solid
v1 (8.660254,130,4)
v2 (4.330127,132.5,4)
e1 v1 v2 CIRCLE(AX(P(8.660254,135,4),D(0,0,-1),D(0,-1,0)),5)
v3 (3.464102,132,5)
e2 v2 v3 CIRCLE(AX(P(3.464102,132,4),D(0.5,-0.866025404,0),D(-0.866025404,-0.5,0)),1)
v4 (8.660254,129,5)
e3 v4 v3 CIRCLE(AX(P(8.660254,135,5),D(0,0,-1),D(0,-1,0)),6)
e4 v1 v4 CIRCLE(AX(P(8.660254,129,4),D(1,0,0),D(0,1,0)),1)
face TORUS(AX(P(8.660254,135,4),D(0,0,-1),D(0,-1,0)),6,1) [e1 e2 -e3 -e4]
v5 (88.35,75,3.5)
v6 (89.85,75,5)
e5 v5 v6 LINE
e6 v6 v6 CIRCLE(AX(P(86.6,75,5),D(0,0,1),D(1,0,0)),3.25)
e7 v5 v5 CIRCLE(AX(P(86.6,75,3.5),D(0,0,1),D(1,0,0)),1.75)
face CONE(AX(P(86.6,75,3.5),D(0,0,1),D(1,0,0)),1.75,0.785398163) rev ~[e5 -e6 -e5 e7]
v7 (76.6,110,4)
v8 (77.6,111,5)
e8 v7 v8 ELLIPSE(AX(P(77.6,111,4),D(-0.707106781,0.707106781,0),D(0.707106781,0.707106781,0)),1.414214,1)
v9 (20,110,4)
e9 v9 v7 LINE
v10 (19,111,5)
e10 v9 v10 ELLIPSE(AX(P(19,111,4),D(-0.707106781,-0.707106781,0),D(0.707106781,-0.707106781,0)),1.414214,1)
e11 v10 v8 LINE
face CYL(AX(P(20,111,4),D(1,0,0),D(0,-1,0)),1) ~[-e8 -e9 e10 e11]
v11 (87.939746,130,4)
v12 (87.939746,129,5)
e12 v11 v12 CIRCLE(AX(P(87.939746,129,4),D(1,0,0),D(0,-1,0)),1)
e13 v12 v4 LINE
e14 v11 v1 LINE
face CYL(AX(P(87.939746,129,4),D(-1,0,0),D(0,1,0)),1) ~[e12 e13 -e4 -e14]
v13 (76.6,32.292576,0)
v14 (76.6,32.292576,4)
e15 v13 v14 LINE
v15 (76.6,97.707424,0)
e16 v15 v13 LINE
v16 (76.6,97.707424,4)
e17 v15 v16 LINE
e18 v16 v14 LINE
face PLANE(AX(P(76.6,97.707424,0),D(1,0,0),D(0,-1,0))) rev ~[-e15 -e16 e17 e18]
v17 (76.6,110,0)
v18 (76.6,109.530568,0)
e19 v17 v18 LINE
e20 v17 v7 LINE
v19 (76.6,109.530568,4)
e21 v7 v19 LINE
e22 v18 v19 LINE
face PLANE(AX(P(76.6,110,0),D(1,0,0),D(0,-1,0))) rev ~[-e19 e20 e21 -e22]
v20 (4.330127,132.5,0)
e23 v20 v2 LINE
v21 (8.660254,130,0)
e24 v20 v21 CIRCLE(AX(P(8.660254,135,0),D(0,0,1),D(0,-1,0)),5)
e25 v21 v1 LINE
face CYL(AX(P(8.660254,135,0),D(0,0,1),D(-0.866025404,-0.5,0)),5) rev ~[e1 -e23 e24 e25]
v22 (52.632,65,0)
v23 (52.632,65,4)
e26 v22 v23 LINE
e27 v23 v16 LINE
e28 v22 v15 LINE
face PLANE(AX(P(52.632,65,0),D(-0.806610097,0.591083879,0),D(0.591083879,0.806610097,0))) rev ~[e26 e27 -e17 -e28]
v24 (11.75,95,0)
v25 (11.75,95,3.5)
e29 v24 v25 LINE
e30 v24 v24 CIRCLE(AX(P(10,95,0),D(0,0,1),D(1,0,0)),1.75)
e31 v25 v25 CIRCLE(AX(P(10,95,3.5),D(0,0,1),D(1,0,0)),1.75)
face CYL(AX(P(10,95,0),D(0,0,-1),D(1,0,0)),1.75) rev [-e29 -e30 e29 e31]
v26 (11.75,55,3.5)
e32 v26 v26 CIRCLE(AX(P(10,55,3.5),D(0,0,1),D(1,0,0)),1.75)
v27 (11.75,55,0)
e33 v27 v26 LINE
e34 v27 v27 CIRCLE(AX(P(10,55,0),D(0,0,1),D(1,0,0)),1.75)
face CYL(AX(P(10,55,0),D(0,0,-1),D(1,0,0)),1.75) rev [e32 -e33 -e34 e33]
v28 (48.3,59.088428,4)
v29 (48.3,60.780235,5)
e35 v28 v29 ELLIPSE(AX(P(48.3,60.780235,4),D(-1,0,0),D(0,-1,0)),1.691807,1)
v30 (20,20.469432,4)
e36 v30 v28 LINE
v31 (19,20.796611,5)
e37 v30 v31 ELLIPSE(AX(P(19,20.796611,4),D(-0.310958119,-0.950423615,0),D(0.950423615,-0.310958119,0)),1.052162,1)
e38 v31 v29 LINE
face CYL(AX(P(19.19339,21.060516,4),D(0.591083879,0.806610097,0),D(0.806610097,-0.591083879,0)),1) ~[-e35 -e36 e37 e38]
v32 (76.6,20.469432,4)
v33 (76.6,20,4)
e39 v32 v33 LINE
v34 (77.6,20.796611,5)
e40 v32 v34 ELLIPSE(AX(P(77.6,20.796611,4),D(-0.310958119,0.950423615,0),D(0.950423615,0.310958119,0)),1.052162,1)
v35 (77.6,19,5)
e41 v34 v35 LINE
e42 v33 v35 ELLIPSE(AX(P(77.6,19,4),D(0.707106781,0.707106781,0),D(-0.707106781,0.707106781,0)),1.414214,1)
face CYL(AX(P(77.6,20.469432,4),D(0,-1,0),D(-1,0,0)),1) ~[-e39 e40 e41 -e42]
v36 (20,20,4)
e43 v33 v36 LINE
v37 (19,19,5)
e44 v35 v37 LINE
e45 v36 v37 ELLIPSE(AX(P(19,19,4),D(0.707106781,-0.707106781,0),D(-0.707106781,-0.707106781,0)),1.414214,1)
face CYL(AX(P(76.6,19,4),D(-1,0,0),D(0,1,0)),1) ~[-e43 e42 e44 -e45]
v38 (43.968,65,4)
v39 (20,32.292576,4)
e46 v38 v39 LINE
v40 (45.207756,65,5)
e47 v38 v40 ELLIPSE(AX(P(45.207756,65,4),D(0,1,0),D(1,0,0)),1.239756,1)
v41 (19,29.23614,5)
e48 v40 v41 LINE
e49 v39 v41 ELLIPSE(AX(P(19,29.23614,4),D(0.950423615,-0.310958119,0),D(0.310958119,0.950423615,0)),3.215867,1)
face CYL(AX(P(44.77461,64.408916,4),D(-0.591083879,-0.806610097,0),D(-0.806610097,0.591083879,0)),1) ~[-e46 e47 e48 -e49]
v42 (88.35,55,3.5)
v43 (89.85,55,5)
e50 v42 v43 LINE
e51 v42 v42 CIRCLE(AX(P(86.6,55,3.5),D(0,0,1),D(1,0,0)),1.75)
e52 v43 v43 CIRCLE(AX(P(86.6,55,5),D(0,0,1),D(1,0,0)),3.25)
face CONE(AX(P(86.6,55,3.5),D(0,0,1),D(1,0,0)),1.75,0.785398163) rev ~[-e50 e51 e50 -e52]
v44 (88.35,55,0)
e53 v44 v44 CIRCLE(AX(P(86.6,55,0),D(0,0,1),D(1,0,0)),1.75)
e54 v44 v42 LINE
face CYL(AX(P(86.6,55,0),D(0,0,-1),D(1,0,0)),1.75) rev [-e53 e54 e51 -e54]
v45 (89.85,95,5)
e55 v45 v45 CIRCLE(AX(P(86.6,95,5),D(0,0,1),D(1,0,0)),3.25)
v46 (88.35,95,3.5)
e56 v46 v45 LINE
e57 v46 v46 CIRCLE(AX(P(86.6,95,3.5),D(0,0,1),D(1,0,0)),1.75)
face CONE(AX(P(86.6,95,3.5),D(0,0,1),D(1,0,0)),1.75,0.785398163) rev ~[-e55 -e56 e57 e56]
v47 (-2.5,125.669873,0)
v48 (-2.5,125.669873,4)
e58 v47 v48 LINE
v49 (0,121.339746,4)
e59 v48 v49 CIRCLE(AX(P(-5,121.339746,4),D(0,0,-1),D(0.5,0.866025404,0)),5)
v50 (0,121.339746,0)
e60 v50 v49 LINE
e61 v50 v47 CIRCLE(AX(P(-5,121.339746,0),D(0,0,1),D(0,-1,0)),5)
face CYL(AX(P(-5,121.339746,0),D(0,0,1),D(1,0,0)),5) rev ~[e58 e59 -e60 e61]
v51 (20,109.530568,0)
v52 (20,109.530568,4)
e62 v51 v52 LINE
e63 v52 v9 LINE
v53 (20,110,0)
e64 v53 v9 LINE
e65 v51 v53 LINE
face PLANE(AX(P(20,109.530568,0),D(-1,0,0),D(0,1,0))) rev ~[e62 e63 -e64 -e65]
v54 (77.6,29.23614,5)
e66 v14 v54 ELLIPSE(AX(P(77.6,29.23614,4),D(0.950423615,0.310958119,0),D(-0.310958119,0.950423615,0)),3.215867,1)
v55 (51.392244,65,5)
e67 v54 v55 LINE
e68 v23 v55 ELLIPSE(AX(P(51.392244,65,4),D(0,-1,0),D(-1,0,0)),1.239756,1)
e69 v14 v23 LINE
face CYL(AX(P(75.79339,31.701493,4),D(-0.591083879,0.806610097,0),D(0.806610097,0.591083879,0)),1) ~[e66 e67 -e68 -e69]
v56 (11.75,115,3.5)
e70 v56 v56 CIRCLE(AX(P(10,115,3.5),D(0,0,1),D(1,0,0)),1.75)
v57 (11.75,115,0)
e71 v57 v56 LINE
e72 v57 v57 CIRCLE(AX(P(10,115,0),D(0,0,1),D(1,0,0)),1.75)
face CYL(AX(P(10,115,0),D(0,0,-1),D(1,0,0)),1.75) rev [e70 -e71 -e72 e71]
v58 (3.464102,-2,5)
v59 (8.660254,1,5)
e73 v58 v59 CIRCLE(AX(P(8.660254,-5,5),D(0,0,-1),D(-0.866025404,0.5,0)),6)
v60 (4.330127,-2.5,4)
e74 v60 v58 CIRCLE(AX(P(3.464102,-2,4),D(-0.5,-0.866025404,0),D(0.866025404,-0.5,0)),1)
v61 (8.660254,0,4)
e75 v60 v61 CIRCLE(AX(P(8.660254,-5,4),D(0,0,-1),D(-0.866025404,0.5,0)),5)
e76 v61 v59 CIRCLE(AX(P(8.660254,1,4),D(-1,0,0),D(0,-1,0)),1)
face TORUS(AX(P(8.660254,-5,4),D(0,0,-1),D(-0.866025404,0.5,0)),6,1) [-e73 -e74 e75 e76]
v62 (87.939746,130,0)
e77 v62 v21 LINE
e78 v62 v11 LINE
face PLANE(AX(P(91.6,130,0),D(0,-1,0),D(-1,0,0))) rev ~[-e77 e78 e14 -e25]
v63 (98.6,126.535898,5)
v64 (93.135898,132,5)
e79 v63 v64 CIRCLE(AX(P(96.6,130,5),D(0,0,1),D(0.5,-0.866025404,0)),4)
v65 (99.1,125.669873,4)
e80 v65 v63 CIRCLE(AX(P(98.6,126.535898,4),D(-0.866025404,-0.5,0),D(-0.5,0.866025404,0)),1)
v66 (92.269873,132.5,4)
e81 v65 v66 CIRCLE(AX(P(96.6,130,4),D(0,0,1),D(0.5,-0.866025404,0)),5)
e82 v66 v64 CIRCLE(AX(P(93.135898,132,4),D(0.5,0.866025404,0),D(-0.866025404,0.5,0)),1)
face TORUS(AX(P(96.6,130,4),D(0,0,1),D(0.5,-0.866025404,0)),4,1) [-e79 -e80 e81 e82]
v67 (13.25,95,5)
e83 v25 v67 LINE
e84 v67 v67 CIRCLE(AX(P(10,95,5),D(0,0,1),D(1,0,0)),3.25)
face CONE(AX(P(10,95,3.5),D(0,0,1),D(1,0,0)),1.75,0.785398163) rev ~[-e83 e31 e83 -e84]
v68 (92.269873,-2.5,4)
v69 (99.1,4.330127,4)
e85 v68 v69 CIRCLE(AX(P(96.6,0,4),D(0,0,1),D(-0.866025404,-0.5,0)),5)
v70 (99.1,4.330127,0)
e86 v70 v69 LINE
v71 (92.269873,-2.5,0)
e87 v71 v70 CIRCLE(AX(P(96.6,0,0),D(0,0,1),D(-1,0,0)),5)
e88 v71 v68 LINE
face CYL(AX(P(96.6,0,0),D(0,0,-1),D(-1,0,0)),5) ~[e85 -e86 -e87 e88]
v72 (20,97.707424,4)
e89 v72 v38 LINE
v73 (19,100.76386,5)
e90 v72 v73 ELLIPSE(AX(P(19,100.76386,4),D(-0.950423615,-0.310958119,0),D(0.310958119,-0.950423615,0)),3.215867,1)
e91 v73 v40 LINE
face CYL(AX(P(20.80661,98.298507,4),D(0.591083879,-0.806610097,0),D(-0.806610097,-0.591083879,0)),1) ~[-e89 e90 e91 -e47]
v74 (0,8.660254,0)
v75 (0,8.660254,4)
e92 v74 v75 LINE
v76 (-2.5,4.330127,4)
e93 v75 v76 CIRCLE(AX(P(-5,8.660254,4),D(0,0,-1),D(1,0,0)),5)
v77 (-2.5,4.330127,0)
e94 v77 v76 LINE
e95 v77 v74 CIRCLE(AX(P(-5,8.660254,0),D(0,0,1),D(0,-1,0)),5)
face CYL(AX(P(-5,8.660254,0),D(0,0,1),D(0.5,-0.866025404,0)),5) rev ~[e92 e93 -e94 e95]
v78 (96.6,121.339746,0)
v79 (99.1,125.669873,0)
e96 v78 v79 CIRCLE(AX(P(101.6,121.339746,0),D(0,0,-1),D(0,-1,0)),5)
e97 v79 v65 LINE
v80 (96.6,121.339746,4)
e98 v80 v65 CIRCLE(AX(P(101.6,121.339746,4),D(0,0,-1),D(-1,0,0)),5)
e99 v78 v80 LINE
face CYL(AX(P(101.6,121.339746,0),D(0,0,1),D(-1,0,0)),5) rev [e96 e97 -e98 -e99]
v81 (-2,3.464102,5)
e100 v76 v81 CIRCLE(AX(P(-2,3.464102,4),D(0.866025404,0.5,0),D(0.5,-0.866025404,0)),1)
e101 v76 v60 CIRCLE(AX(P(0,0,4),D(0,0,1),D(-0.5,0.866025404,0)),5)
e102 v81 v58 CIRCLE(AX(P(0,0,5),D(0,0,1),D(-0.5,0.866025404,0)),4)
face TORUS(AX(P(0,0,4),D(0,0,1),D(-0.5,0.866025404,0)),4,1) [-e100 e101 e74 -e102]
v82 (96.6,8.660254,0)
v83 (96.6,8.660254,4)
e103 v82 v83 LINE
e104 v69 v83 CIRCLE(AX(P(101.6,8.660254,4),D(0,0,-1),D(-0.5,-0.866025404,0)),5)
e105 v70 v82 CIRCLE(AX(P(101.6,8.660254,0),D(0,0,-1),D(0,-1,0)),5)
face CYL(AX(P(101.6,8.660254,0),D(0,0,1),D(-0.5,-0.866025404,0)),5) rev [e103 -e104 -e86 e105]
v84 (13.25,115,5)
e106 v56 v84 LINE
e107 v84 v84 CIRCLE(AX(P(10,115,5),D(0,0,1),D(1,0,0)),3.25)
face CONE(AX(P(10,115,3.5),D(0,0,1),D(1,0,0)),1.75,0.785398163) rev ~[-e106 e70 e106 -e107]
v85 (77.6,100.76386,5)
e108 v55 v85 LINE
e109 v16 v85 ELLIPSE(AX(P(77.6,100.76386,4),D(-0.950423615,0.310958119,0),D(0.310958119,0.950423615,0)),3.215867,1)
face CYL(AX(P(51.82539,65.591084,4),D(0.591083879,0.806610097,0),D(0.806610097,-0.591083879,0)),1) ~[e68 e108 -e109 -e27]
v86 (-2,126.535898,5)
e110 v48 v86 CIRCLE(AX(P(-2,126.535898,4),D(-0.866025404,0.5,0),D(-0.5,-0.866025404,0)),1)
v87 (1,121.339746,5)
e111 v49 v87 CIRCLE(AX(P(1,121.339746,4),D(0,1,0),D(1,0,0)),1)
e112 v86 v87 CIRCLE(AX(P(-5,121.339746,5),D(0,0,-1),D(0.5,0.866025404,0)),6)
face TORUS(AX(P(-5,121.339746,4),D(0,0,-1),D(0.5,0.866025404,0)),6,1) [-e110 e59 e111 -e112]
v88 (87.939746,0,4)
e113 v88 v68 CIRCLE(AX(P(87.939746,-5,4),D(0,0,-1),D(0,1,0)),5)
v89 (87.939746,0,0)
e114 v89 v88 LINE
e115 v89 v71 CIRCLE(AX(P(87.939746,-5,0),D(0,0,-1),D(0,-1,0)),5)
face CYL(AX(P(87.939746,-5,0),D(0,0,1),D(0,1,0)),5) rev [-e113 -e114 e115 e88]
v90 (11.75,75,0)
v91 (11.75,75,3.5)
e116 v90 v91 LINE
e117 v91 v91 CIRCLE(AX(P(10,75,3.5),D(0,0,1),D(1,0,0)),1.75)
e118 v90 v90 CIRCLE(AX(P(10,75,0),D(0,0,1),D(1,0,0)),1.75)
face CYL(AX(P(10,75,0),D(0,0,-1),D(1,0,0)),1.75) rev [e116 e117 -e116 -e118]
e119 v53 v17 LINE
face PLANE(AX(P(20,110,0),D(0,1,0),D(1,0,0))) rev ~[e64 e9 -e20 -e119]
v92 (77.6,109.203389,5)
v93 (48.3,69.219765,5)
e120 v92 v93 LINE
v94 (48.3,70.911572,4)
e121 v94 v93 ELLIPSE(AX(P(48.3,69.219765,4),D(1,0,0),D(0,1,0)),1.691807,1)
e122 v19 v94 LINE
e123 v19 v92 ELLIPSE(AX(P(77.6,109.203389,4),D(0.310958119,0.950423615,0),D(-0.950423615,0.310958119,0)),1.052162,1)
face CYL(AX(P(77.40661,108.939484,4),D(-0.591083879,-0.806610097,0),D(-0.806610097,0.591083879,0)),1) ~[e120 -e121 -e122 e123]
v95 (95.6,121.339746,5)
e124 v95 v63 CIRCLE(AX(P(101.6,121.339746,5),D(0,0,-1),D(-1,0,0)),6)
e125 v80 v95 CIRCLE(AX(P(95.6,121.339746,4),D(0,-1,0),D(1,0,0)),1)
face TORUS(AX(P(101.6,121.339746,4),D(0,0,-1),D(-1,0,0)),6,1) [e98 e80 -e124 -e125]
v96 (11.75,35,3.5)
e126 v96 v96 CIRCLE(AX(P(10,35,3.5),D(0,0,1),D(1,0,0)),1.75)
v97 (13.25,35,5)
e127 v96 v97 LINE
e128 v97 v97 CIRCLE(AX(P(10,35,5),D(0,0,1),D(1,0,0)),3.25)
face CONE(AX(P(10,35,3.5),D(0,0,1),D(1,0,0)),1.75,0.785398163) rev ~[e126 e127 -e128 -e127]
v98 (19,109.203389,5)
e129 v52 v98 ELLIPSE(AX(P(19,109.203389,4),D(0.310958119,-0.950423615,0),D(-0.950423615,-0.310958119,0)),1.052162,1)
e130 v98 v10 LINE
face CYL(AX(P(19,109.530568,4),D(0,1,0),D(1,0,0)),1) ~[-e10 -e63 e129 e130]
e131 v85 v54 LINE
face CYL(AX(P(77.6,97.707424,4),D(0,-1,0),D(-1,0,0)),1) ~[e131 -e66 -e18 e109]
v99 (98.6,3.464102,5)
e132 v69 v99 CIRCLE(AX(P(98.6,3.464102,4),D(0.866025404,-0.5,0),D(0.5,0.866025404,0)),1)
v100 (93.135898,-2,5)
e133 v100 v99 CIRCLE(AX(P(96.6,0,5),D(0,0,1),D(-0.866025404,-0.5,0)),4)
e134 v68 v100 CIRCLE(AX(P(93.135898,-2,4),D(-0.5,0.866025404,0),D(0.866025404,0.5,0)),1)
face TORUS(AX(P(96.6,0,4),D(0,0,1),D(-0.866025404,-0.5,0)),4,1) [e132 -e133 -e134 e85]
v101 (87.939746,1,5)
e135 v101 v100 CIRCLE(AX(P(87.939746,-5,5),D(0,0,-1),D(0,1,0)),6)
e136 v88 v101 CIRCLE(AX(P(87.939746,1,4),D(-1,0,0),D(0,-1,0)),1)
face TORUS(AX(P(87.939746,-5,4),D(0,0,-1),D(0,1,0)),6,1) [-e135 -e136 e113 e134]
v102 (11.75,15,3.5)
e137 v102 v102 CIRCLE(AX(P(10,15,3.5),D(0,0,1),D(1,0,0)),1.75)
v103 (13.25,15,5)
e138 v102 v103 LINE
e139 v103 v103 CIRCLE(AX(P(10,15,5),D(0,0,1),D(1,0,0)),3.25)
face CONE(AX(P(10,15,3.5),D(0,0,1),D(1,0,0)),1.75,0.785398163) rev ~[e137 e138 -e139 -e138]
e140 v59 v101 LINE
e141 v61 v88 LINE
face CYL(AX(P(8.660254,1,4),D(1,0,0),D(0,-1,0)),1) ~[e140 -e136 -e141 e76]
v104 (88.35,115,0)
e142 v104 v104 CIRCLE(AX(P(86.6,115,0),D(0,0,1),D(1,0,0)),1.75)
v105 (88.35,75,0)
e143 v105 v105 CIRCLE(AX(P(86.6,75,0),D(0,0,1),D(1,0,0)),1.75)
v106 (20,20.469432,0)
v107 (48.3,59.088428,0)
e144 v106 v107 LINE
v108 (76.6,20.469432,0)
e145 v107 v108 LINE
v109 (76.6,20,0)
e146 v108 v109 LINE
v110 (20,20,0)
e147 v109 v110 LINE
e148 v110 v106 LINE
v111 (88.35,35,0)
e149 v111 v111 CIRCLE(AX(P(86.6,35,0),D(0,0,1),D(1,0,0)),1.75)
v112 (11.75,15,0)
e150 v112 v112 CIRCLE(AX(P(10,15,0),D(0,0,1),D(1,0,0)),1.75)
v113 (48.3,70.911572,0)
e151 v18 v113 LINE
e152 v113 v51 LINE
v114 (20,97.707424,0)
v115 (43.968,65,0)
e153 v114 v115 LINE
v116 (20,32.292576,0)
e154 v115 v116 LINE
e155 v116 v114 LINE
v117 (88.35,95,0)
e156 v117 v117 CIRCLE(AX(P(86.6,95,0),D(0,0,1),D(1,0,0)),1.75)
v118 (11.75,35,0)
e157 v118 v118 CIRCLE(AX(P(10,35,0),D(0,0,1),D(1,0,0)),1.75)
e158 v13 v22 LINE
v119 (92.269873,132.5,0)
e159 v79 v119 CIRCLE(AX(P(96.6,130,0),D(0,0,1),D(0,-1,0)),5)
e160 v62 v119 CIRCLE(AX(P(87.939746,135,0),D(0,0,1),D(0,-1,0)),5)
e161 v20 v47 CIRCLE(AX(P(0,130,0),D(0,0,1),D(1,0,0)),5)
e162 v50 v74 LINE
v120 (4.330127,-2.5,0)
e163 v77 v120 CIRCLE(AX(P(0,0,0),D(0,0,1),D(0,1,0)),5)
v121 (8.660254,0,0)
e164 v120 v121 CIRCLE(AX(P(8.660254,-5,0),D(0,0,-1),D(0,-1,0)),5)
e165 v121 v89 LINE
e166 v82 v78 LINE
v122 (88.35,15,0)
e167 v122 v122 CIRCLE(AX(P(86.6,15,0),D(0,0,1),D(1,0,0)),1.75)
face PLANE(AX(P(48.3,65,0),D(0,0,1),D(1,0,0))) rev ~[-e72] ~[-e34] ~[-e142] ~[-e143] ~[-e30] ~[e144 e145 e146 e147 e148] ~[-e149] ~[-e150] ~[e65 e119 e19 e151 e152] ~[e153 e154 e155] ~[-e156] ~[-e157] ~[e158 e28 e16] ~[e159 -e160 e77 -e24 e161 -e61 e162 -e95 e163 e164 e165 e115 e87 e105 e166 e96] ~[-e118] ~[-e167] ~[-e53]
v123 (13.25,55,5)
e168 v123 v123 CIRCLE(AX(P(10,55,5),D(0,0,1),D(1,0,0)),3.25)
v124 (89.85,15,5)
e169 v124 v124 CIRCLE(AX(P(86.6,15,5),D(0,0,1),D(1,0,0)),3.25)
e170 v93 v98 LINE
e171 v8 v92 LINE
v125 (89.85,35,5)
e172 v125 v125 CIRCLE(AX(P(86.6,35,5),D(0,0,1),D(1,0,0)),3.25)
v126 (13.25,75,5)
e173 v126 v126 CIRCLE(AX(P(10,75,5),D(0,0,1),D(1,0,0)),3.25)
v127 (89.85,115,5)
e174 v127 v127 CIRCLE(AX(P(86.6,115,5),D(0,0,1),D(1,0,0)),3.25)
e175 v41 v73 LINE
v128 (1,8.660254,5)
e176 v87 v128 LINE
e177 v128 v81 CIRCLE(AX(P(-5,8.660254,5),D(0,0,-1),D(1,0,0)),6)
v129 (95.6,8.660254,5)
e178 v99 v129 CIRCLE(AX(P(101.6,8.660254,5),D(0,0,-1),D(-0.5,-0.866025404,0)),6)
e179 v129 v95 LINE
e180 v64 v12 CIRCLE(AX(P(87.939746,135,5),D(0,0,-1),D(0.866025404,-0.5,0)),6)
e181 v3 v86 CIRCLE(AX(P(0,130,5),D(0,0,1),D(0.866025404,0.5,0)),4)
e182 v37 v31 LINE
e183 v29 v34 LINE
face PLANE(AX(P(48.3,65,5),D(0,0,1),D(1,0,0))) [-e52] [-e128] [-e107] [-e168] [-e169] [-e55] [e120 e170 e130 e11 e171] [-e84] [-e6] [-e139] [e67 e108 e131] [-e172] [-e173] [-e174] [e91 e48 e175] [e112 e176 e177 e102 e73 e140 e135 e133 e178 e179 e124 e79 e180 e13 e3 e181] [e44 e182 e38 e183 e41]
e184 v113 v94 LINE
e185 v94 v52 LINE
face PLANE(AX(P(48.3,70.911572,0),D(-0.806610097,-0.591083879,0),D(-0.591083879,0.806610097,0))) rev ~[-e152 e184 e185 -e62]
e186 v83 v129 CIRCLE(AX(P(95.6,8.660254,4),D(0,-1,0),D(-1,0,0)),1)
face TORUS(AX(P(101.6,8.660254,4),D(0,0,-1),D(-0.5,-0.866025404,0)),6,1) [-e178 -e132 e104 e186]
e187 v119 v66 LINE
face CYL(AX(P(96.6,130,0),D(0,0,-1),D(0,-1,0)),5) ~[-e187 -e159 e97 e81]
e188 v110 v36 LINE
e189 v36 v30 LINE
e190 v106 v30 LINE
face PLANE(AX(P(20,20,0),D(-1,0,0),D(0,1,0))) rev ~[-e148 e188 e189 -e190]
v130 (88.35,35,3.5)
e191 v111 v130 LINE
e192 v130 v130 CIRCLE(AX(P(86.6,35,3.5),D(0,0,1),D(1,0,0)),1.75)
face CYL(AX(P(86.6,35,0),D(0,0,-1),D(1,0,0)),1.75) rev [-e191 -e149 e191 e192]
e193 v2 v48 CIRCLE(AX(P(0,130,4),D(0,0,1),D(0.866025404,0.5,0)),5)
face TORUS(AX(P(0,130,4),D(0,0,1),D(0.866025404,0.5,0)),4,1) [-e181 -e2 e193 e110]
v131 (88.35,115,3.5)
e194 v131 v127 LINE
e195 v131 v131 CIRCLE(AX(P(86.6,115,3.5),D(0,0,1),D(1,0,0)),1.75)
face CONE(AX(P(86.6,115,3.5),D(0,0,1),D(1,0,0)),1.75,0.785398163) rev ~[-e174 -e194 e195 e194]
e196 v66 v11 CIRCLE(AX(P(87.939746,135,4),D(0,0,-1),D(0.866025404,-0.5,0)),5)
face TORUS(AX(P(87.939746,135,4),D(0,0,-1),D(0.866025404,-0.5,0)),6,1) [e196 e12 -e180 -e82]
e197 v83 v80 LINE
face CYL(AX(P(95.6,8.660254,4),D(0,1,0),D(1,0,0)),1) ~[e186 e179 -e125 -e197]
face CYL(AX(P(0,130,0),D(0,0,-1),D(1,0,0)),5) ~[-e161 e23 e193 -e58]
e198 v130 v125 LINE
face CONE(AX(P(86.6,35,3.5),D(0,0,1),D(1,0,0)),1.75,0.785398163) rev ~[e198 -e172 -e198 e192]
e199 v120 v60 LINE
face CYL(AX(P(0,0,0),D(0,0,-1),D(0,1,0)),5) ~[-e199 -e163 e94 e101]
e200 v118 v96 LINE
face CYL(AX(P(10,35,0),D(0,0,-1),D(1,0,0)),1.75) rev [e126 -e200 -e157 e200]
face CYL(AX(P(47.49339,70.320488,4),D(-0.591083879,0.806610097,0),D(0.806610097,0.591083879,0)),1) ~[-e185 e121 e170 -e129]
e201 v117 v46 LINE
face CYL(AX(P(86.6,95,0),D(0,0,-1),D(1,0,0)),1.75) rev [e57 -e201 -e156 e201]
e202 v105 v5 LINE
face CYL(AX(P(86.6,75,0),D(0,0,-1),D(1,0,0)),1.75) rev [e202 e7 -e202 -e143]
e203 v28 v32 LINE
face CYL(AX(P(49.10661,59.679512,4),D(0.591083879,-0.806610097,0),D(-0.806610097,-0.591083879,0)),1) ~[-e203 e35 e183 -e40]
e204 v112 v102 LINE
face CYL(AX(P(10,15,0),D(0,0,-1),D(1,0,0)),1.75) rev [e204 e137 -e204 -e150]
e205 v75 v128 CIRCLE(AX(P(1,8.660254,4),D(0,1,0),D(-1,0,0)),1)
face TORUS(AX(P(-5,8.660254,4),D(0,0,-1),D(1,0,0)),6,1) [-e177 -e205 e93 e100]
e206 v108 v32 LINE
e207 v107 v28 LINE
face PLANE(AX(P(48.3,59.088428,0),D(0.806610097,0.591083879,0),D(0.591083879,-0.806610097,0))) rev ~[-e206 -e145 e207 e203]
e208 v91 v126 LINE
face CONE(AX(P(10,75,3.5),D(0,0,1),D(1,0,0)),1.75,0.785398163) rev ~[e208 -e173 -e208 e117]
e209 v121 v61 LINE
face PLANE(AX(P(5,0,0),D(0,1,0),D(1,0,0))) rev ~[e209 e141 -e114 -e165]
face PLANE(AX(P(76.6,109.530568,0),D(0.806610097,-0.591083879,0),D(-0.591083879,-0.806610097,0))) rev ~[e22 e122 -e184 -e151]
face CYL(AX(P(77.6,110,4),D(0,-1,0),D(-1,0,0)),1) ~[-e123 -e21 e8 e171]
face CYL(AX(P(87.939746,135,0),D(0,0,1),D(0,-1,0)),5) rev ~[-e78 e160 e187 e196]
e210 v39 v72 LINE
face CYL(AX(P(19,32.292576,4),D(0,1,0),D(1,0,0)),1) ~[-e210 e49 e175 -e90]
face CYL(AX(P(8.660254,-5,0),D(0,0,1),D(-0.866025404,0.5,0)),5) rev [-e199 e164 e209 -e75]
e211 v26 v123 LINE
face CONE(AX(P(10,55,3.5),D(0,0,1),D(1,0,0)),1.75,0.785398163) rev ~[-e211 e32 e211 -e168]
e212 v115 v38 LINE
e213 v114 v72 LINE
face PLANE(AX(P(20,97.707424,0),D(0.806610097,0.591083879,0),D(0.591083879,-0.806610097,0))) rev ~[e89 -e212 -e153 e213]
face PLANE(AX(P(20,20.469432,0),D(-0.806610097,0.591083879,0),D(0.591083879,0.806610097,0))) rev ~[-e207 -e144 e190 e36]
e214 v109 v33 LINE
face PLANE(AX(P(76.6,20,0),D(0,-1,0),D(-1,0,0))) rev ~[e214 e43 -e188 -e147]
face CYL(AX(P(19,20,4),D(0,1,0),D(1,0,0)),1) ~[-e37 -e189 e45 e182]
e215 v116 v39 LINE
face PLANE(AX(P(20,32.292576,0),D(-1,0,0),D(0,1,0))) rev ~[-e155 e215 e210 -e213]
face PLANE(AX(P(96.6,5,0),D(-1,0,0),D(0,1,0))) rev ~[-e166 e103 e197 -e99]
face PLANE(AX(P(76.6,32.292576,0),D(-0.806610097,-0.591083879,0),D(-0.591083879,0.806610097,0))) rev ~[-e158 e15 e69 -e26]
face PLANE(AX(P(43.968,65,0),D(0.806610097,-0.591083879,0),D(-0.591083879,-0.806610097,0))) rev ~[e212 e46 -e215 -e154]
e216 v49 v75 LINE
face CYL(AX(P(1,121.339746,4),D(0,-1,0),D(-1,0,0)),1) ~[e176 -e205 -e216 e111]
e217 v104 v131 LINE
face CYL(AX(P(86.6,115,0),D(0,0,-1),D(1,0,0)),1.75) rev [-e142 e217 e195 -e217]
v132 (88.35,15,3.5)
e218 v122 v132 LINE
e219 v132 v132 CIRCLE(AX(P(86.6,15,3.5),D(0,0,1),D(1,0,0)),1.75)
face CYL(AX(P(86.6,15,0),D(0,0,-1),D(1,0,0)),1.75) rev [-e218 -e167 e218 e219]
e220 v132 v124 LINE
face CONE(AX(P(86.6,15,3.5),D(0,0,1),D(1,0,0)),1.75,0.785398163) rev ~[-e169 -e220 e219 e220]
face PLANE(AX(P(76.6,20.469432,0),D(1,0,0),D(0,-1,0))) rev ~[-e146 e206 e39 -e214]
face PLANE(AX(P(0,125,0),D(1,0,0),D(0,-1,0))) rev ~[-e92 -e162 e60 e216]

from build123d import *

# Parameters (mm, degrees)
F0_R     = 1.75
F1_DEPTH = 5
F2_SIZE  = 1.5
F3_R     = 5
F5_R     = 1


with BuildPart() as f1:
    # F0 (on Top) → F1 (new body)
    with BuildSketch(Plane.XY):
        with BuildLine():
            ThreePointArc((0, 5), (-3.5355339059, -3.5355339059), (5, 0))
            Line((5, 0), (91.6, 0))
            ThreePointArc((91.6, 0), (100.1355339059, -3.5355339059), (96.6, 5))
            Line((96.6, 5), (96.6, 125))
            ThreePointArc((96.6, 125), (100.1355339059, 133.5355339059), (91.6, 130))
            Line((91.6, 130), (5, 130))
            ThreePointArc((5, 130), (-3.5355339059, 133.5355339059), (0, 125))
            Line((0, 125), (0, 5))
        make_face()
        with Locations((10, 15)):
            Circle(F0_R, mode=Mode.SUBTRACT)
        with Locations((10, 35)):
            Circle(F0_R, mode=Mode.SUBTRACT)
        with Locations((10, 55)):
            Circle(F0_R, mode=Mode.SUBTRACT)
        Polygon((20, 62.5), (20, 67.5), (20, 97.7074235808), (42.136, 67.5), (43.968, 65), (42.136, 62.5), (20, 32.2925764192), align=None, mode=Mode.SUBTRACT)
        with Locations((86.6, 15)):
            Circle(F0_R, mode=Mode.SUBTRACT)
        Polygon((76.6, 20), (20, 20), (20, 20.4694323144), (45.8, 55.6768558952), (48.3, 59.0884279476), (50.8, 55.6768558952), (76.6, 20.4694323144), align=None, mode=Mode.SUBTRACT)
        Polygon((76.6, 97.7074235808), (76.6, 67.5), (76.6, 62.5), (76.6, 32.2925764192), (54.464, 62.5), (52.632, 65), (54.464, 67.5), align=None, mode=Mode.SUBTRACT)
        with Locations((86.6, 35)):
            Circle(F0_R, mode=Mode.SUBTRACT)
        with Locations((86.6, 55)):
            Circle(F0_R, mode=Mode.SUBTRACT)
        with Locations((10, 75)):
            Circle(F0_R, mode=Mode.SUBTRACT)
        with Locations((10, 95)):
            Circle(F0_R, mode=Mode.SUBTRACT)
        with Locations((10, 115)):
            Circle(F0_R, mode=Mode.SUBTRACT)
        Polygon((20, 109.5305676856), (20, 110), (45.8, 110), (50.8, 110), (76.6, 110), (76.6, 109.5305676856), (50.8, 74.3231441048), (48.3, 70.9115720524), (45.8, 74.3231441048), align=None, mode=Mode.SUBTRACT)
        with Locations((86.6, 75)):
            Circle(F0_R, mode=Mode.SUBTRACT)
        with Locations((86.6, 95)):
            Circle(F0_R, mode=Mode.SUBTRACT)
        with Locations((86.6, 115)):
            Circle(F0_R, mode=Mode.SUBTRACT)
    extrude(amount=F1_DEPTH)

    # F2
    f2_edges = [f1.edges().sort_by_distance(p)[0] for p in [
        (8.25, 15, 5),
        (8.25, 35, 5),
        (8.25, 55, 5),
        (8.25, 75, 5),
        (8.25, 95, 5),
        (8.25, 115, 5),
        (84.85, 115, 5),
        (84.85, 95, 5),
        (84.85, 75, 5),
        (84.85, 55, 5),
        (84.85, 35, 5),
        (84.85, 15, 5),
    ]]
    chamfer(f2_edges, length=F2_SIZE)

    # F3
    f3_edges = [f1.edges().sort_by_distance(p)[0] for p in [
        (5, 0, 2.5),
        (91.6, 0, 2.5),
        (96.6, 5, 2.5),
        (96.6, 125, 2.5),
        (91.6, 130, 2.5),
        (5, 130, 2.5),
        (0, 125, 2.5),
        (0, 5, 2.5),
    ]]
    fillet(f3_edges, radius=F3_R)

    # F5
    f5_edges = [f1.edges().sort_by_distance(p)[0] for p in [
        (48.3, 0, 5),
        (100.135534, -3.535534, 5),
        (90.439746, -0.669873, 5),
        (97.269873, 6.160254, 5),
        (96.6, 65, 5),
        (97.269873, 123.839746, 5),
        (100.135534, 133.535534, 5),
        (90.439746, 130.669873, 5),
        (48.3, 130, 5),
        (6.160254, 130.669873, 5),
        (-3.535534, 133.535534, 5),
        (-0.669873, 123.839746, 5),
        (0, 65, 5),
        (-0.669873, 6.160254, 5),
        (-3.535534, -3.535534, 5),
        (6.160254, -0.669873, 5),
        (31.984, 81.353712, 5),
        (20, 65, 5),
        (31.984, 48.646288, 5),
        (34.15, 90.22107, 5),
        (62.45, 90.22107, 5),
        (48.3, 110, 5),
        (64.616, 48.646288, 5),
        (64.616, 81.353712, 5),
        (76.6, 65, 5),
        (62.45, 39.77893, 5),
        (34.15, 39.77893, 5),
        (48.3, 20, 5),
        (20, 20.234716, 5),
        (76.6, 20.234716, 5),
        (76.6, 109.765284, 5),
        (20, 109.765284, 5),
    ]]
    fillet(f5_edges, radius=F5_R)


solid = f1.part
